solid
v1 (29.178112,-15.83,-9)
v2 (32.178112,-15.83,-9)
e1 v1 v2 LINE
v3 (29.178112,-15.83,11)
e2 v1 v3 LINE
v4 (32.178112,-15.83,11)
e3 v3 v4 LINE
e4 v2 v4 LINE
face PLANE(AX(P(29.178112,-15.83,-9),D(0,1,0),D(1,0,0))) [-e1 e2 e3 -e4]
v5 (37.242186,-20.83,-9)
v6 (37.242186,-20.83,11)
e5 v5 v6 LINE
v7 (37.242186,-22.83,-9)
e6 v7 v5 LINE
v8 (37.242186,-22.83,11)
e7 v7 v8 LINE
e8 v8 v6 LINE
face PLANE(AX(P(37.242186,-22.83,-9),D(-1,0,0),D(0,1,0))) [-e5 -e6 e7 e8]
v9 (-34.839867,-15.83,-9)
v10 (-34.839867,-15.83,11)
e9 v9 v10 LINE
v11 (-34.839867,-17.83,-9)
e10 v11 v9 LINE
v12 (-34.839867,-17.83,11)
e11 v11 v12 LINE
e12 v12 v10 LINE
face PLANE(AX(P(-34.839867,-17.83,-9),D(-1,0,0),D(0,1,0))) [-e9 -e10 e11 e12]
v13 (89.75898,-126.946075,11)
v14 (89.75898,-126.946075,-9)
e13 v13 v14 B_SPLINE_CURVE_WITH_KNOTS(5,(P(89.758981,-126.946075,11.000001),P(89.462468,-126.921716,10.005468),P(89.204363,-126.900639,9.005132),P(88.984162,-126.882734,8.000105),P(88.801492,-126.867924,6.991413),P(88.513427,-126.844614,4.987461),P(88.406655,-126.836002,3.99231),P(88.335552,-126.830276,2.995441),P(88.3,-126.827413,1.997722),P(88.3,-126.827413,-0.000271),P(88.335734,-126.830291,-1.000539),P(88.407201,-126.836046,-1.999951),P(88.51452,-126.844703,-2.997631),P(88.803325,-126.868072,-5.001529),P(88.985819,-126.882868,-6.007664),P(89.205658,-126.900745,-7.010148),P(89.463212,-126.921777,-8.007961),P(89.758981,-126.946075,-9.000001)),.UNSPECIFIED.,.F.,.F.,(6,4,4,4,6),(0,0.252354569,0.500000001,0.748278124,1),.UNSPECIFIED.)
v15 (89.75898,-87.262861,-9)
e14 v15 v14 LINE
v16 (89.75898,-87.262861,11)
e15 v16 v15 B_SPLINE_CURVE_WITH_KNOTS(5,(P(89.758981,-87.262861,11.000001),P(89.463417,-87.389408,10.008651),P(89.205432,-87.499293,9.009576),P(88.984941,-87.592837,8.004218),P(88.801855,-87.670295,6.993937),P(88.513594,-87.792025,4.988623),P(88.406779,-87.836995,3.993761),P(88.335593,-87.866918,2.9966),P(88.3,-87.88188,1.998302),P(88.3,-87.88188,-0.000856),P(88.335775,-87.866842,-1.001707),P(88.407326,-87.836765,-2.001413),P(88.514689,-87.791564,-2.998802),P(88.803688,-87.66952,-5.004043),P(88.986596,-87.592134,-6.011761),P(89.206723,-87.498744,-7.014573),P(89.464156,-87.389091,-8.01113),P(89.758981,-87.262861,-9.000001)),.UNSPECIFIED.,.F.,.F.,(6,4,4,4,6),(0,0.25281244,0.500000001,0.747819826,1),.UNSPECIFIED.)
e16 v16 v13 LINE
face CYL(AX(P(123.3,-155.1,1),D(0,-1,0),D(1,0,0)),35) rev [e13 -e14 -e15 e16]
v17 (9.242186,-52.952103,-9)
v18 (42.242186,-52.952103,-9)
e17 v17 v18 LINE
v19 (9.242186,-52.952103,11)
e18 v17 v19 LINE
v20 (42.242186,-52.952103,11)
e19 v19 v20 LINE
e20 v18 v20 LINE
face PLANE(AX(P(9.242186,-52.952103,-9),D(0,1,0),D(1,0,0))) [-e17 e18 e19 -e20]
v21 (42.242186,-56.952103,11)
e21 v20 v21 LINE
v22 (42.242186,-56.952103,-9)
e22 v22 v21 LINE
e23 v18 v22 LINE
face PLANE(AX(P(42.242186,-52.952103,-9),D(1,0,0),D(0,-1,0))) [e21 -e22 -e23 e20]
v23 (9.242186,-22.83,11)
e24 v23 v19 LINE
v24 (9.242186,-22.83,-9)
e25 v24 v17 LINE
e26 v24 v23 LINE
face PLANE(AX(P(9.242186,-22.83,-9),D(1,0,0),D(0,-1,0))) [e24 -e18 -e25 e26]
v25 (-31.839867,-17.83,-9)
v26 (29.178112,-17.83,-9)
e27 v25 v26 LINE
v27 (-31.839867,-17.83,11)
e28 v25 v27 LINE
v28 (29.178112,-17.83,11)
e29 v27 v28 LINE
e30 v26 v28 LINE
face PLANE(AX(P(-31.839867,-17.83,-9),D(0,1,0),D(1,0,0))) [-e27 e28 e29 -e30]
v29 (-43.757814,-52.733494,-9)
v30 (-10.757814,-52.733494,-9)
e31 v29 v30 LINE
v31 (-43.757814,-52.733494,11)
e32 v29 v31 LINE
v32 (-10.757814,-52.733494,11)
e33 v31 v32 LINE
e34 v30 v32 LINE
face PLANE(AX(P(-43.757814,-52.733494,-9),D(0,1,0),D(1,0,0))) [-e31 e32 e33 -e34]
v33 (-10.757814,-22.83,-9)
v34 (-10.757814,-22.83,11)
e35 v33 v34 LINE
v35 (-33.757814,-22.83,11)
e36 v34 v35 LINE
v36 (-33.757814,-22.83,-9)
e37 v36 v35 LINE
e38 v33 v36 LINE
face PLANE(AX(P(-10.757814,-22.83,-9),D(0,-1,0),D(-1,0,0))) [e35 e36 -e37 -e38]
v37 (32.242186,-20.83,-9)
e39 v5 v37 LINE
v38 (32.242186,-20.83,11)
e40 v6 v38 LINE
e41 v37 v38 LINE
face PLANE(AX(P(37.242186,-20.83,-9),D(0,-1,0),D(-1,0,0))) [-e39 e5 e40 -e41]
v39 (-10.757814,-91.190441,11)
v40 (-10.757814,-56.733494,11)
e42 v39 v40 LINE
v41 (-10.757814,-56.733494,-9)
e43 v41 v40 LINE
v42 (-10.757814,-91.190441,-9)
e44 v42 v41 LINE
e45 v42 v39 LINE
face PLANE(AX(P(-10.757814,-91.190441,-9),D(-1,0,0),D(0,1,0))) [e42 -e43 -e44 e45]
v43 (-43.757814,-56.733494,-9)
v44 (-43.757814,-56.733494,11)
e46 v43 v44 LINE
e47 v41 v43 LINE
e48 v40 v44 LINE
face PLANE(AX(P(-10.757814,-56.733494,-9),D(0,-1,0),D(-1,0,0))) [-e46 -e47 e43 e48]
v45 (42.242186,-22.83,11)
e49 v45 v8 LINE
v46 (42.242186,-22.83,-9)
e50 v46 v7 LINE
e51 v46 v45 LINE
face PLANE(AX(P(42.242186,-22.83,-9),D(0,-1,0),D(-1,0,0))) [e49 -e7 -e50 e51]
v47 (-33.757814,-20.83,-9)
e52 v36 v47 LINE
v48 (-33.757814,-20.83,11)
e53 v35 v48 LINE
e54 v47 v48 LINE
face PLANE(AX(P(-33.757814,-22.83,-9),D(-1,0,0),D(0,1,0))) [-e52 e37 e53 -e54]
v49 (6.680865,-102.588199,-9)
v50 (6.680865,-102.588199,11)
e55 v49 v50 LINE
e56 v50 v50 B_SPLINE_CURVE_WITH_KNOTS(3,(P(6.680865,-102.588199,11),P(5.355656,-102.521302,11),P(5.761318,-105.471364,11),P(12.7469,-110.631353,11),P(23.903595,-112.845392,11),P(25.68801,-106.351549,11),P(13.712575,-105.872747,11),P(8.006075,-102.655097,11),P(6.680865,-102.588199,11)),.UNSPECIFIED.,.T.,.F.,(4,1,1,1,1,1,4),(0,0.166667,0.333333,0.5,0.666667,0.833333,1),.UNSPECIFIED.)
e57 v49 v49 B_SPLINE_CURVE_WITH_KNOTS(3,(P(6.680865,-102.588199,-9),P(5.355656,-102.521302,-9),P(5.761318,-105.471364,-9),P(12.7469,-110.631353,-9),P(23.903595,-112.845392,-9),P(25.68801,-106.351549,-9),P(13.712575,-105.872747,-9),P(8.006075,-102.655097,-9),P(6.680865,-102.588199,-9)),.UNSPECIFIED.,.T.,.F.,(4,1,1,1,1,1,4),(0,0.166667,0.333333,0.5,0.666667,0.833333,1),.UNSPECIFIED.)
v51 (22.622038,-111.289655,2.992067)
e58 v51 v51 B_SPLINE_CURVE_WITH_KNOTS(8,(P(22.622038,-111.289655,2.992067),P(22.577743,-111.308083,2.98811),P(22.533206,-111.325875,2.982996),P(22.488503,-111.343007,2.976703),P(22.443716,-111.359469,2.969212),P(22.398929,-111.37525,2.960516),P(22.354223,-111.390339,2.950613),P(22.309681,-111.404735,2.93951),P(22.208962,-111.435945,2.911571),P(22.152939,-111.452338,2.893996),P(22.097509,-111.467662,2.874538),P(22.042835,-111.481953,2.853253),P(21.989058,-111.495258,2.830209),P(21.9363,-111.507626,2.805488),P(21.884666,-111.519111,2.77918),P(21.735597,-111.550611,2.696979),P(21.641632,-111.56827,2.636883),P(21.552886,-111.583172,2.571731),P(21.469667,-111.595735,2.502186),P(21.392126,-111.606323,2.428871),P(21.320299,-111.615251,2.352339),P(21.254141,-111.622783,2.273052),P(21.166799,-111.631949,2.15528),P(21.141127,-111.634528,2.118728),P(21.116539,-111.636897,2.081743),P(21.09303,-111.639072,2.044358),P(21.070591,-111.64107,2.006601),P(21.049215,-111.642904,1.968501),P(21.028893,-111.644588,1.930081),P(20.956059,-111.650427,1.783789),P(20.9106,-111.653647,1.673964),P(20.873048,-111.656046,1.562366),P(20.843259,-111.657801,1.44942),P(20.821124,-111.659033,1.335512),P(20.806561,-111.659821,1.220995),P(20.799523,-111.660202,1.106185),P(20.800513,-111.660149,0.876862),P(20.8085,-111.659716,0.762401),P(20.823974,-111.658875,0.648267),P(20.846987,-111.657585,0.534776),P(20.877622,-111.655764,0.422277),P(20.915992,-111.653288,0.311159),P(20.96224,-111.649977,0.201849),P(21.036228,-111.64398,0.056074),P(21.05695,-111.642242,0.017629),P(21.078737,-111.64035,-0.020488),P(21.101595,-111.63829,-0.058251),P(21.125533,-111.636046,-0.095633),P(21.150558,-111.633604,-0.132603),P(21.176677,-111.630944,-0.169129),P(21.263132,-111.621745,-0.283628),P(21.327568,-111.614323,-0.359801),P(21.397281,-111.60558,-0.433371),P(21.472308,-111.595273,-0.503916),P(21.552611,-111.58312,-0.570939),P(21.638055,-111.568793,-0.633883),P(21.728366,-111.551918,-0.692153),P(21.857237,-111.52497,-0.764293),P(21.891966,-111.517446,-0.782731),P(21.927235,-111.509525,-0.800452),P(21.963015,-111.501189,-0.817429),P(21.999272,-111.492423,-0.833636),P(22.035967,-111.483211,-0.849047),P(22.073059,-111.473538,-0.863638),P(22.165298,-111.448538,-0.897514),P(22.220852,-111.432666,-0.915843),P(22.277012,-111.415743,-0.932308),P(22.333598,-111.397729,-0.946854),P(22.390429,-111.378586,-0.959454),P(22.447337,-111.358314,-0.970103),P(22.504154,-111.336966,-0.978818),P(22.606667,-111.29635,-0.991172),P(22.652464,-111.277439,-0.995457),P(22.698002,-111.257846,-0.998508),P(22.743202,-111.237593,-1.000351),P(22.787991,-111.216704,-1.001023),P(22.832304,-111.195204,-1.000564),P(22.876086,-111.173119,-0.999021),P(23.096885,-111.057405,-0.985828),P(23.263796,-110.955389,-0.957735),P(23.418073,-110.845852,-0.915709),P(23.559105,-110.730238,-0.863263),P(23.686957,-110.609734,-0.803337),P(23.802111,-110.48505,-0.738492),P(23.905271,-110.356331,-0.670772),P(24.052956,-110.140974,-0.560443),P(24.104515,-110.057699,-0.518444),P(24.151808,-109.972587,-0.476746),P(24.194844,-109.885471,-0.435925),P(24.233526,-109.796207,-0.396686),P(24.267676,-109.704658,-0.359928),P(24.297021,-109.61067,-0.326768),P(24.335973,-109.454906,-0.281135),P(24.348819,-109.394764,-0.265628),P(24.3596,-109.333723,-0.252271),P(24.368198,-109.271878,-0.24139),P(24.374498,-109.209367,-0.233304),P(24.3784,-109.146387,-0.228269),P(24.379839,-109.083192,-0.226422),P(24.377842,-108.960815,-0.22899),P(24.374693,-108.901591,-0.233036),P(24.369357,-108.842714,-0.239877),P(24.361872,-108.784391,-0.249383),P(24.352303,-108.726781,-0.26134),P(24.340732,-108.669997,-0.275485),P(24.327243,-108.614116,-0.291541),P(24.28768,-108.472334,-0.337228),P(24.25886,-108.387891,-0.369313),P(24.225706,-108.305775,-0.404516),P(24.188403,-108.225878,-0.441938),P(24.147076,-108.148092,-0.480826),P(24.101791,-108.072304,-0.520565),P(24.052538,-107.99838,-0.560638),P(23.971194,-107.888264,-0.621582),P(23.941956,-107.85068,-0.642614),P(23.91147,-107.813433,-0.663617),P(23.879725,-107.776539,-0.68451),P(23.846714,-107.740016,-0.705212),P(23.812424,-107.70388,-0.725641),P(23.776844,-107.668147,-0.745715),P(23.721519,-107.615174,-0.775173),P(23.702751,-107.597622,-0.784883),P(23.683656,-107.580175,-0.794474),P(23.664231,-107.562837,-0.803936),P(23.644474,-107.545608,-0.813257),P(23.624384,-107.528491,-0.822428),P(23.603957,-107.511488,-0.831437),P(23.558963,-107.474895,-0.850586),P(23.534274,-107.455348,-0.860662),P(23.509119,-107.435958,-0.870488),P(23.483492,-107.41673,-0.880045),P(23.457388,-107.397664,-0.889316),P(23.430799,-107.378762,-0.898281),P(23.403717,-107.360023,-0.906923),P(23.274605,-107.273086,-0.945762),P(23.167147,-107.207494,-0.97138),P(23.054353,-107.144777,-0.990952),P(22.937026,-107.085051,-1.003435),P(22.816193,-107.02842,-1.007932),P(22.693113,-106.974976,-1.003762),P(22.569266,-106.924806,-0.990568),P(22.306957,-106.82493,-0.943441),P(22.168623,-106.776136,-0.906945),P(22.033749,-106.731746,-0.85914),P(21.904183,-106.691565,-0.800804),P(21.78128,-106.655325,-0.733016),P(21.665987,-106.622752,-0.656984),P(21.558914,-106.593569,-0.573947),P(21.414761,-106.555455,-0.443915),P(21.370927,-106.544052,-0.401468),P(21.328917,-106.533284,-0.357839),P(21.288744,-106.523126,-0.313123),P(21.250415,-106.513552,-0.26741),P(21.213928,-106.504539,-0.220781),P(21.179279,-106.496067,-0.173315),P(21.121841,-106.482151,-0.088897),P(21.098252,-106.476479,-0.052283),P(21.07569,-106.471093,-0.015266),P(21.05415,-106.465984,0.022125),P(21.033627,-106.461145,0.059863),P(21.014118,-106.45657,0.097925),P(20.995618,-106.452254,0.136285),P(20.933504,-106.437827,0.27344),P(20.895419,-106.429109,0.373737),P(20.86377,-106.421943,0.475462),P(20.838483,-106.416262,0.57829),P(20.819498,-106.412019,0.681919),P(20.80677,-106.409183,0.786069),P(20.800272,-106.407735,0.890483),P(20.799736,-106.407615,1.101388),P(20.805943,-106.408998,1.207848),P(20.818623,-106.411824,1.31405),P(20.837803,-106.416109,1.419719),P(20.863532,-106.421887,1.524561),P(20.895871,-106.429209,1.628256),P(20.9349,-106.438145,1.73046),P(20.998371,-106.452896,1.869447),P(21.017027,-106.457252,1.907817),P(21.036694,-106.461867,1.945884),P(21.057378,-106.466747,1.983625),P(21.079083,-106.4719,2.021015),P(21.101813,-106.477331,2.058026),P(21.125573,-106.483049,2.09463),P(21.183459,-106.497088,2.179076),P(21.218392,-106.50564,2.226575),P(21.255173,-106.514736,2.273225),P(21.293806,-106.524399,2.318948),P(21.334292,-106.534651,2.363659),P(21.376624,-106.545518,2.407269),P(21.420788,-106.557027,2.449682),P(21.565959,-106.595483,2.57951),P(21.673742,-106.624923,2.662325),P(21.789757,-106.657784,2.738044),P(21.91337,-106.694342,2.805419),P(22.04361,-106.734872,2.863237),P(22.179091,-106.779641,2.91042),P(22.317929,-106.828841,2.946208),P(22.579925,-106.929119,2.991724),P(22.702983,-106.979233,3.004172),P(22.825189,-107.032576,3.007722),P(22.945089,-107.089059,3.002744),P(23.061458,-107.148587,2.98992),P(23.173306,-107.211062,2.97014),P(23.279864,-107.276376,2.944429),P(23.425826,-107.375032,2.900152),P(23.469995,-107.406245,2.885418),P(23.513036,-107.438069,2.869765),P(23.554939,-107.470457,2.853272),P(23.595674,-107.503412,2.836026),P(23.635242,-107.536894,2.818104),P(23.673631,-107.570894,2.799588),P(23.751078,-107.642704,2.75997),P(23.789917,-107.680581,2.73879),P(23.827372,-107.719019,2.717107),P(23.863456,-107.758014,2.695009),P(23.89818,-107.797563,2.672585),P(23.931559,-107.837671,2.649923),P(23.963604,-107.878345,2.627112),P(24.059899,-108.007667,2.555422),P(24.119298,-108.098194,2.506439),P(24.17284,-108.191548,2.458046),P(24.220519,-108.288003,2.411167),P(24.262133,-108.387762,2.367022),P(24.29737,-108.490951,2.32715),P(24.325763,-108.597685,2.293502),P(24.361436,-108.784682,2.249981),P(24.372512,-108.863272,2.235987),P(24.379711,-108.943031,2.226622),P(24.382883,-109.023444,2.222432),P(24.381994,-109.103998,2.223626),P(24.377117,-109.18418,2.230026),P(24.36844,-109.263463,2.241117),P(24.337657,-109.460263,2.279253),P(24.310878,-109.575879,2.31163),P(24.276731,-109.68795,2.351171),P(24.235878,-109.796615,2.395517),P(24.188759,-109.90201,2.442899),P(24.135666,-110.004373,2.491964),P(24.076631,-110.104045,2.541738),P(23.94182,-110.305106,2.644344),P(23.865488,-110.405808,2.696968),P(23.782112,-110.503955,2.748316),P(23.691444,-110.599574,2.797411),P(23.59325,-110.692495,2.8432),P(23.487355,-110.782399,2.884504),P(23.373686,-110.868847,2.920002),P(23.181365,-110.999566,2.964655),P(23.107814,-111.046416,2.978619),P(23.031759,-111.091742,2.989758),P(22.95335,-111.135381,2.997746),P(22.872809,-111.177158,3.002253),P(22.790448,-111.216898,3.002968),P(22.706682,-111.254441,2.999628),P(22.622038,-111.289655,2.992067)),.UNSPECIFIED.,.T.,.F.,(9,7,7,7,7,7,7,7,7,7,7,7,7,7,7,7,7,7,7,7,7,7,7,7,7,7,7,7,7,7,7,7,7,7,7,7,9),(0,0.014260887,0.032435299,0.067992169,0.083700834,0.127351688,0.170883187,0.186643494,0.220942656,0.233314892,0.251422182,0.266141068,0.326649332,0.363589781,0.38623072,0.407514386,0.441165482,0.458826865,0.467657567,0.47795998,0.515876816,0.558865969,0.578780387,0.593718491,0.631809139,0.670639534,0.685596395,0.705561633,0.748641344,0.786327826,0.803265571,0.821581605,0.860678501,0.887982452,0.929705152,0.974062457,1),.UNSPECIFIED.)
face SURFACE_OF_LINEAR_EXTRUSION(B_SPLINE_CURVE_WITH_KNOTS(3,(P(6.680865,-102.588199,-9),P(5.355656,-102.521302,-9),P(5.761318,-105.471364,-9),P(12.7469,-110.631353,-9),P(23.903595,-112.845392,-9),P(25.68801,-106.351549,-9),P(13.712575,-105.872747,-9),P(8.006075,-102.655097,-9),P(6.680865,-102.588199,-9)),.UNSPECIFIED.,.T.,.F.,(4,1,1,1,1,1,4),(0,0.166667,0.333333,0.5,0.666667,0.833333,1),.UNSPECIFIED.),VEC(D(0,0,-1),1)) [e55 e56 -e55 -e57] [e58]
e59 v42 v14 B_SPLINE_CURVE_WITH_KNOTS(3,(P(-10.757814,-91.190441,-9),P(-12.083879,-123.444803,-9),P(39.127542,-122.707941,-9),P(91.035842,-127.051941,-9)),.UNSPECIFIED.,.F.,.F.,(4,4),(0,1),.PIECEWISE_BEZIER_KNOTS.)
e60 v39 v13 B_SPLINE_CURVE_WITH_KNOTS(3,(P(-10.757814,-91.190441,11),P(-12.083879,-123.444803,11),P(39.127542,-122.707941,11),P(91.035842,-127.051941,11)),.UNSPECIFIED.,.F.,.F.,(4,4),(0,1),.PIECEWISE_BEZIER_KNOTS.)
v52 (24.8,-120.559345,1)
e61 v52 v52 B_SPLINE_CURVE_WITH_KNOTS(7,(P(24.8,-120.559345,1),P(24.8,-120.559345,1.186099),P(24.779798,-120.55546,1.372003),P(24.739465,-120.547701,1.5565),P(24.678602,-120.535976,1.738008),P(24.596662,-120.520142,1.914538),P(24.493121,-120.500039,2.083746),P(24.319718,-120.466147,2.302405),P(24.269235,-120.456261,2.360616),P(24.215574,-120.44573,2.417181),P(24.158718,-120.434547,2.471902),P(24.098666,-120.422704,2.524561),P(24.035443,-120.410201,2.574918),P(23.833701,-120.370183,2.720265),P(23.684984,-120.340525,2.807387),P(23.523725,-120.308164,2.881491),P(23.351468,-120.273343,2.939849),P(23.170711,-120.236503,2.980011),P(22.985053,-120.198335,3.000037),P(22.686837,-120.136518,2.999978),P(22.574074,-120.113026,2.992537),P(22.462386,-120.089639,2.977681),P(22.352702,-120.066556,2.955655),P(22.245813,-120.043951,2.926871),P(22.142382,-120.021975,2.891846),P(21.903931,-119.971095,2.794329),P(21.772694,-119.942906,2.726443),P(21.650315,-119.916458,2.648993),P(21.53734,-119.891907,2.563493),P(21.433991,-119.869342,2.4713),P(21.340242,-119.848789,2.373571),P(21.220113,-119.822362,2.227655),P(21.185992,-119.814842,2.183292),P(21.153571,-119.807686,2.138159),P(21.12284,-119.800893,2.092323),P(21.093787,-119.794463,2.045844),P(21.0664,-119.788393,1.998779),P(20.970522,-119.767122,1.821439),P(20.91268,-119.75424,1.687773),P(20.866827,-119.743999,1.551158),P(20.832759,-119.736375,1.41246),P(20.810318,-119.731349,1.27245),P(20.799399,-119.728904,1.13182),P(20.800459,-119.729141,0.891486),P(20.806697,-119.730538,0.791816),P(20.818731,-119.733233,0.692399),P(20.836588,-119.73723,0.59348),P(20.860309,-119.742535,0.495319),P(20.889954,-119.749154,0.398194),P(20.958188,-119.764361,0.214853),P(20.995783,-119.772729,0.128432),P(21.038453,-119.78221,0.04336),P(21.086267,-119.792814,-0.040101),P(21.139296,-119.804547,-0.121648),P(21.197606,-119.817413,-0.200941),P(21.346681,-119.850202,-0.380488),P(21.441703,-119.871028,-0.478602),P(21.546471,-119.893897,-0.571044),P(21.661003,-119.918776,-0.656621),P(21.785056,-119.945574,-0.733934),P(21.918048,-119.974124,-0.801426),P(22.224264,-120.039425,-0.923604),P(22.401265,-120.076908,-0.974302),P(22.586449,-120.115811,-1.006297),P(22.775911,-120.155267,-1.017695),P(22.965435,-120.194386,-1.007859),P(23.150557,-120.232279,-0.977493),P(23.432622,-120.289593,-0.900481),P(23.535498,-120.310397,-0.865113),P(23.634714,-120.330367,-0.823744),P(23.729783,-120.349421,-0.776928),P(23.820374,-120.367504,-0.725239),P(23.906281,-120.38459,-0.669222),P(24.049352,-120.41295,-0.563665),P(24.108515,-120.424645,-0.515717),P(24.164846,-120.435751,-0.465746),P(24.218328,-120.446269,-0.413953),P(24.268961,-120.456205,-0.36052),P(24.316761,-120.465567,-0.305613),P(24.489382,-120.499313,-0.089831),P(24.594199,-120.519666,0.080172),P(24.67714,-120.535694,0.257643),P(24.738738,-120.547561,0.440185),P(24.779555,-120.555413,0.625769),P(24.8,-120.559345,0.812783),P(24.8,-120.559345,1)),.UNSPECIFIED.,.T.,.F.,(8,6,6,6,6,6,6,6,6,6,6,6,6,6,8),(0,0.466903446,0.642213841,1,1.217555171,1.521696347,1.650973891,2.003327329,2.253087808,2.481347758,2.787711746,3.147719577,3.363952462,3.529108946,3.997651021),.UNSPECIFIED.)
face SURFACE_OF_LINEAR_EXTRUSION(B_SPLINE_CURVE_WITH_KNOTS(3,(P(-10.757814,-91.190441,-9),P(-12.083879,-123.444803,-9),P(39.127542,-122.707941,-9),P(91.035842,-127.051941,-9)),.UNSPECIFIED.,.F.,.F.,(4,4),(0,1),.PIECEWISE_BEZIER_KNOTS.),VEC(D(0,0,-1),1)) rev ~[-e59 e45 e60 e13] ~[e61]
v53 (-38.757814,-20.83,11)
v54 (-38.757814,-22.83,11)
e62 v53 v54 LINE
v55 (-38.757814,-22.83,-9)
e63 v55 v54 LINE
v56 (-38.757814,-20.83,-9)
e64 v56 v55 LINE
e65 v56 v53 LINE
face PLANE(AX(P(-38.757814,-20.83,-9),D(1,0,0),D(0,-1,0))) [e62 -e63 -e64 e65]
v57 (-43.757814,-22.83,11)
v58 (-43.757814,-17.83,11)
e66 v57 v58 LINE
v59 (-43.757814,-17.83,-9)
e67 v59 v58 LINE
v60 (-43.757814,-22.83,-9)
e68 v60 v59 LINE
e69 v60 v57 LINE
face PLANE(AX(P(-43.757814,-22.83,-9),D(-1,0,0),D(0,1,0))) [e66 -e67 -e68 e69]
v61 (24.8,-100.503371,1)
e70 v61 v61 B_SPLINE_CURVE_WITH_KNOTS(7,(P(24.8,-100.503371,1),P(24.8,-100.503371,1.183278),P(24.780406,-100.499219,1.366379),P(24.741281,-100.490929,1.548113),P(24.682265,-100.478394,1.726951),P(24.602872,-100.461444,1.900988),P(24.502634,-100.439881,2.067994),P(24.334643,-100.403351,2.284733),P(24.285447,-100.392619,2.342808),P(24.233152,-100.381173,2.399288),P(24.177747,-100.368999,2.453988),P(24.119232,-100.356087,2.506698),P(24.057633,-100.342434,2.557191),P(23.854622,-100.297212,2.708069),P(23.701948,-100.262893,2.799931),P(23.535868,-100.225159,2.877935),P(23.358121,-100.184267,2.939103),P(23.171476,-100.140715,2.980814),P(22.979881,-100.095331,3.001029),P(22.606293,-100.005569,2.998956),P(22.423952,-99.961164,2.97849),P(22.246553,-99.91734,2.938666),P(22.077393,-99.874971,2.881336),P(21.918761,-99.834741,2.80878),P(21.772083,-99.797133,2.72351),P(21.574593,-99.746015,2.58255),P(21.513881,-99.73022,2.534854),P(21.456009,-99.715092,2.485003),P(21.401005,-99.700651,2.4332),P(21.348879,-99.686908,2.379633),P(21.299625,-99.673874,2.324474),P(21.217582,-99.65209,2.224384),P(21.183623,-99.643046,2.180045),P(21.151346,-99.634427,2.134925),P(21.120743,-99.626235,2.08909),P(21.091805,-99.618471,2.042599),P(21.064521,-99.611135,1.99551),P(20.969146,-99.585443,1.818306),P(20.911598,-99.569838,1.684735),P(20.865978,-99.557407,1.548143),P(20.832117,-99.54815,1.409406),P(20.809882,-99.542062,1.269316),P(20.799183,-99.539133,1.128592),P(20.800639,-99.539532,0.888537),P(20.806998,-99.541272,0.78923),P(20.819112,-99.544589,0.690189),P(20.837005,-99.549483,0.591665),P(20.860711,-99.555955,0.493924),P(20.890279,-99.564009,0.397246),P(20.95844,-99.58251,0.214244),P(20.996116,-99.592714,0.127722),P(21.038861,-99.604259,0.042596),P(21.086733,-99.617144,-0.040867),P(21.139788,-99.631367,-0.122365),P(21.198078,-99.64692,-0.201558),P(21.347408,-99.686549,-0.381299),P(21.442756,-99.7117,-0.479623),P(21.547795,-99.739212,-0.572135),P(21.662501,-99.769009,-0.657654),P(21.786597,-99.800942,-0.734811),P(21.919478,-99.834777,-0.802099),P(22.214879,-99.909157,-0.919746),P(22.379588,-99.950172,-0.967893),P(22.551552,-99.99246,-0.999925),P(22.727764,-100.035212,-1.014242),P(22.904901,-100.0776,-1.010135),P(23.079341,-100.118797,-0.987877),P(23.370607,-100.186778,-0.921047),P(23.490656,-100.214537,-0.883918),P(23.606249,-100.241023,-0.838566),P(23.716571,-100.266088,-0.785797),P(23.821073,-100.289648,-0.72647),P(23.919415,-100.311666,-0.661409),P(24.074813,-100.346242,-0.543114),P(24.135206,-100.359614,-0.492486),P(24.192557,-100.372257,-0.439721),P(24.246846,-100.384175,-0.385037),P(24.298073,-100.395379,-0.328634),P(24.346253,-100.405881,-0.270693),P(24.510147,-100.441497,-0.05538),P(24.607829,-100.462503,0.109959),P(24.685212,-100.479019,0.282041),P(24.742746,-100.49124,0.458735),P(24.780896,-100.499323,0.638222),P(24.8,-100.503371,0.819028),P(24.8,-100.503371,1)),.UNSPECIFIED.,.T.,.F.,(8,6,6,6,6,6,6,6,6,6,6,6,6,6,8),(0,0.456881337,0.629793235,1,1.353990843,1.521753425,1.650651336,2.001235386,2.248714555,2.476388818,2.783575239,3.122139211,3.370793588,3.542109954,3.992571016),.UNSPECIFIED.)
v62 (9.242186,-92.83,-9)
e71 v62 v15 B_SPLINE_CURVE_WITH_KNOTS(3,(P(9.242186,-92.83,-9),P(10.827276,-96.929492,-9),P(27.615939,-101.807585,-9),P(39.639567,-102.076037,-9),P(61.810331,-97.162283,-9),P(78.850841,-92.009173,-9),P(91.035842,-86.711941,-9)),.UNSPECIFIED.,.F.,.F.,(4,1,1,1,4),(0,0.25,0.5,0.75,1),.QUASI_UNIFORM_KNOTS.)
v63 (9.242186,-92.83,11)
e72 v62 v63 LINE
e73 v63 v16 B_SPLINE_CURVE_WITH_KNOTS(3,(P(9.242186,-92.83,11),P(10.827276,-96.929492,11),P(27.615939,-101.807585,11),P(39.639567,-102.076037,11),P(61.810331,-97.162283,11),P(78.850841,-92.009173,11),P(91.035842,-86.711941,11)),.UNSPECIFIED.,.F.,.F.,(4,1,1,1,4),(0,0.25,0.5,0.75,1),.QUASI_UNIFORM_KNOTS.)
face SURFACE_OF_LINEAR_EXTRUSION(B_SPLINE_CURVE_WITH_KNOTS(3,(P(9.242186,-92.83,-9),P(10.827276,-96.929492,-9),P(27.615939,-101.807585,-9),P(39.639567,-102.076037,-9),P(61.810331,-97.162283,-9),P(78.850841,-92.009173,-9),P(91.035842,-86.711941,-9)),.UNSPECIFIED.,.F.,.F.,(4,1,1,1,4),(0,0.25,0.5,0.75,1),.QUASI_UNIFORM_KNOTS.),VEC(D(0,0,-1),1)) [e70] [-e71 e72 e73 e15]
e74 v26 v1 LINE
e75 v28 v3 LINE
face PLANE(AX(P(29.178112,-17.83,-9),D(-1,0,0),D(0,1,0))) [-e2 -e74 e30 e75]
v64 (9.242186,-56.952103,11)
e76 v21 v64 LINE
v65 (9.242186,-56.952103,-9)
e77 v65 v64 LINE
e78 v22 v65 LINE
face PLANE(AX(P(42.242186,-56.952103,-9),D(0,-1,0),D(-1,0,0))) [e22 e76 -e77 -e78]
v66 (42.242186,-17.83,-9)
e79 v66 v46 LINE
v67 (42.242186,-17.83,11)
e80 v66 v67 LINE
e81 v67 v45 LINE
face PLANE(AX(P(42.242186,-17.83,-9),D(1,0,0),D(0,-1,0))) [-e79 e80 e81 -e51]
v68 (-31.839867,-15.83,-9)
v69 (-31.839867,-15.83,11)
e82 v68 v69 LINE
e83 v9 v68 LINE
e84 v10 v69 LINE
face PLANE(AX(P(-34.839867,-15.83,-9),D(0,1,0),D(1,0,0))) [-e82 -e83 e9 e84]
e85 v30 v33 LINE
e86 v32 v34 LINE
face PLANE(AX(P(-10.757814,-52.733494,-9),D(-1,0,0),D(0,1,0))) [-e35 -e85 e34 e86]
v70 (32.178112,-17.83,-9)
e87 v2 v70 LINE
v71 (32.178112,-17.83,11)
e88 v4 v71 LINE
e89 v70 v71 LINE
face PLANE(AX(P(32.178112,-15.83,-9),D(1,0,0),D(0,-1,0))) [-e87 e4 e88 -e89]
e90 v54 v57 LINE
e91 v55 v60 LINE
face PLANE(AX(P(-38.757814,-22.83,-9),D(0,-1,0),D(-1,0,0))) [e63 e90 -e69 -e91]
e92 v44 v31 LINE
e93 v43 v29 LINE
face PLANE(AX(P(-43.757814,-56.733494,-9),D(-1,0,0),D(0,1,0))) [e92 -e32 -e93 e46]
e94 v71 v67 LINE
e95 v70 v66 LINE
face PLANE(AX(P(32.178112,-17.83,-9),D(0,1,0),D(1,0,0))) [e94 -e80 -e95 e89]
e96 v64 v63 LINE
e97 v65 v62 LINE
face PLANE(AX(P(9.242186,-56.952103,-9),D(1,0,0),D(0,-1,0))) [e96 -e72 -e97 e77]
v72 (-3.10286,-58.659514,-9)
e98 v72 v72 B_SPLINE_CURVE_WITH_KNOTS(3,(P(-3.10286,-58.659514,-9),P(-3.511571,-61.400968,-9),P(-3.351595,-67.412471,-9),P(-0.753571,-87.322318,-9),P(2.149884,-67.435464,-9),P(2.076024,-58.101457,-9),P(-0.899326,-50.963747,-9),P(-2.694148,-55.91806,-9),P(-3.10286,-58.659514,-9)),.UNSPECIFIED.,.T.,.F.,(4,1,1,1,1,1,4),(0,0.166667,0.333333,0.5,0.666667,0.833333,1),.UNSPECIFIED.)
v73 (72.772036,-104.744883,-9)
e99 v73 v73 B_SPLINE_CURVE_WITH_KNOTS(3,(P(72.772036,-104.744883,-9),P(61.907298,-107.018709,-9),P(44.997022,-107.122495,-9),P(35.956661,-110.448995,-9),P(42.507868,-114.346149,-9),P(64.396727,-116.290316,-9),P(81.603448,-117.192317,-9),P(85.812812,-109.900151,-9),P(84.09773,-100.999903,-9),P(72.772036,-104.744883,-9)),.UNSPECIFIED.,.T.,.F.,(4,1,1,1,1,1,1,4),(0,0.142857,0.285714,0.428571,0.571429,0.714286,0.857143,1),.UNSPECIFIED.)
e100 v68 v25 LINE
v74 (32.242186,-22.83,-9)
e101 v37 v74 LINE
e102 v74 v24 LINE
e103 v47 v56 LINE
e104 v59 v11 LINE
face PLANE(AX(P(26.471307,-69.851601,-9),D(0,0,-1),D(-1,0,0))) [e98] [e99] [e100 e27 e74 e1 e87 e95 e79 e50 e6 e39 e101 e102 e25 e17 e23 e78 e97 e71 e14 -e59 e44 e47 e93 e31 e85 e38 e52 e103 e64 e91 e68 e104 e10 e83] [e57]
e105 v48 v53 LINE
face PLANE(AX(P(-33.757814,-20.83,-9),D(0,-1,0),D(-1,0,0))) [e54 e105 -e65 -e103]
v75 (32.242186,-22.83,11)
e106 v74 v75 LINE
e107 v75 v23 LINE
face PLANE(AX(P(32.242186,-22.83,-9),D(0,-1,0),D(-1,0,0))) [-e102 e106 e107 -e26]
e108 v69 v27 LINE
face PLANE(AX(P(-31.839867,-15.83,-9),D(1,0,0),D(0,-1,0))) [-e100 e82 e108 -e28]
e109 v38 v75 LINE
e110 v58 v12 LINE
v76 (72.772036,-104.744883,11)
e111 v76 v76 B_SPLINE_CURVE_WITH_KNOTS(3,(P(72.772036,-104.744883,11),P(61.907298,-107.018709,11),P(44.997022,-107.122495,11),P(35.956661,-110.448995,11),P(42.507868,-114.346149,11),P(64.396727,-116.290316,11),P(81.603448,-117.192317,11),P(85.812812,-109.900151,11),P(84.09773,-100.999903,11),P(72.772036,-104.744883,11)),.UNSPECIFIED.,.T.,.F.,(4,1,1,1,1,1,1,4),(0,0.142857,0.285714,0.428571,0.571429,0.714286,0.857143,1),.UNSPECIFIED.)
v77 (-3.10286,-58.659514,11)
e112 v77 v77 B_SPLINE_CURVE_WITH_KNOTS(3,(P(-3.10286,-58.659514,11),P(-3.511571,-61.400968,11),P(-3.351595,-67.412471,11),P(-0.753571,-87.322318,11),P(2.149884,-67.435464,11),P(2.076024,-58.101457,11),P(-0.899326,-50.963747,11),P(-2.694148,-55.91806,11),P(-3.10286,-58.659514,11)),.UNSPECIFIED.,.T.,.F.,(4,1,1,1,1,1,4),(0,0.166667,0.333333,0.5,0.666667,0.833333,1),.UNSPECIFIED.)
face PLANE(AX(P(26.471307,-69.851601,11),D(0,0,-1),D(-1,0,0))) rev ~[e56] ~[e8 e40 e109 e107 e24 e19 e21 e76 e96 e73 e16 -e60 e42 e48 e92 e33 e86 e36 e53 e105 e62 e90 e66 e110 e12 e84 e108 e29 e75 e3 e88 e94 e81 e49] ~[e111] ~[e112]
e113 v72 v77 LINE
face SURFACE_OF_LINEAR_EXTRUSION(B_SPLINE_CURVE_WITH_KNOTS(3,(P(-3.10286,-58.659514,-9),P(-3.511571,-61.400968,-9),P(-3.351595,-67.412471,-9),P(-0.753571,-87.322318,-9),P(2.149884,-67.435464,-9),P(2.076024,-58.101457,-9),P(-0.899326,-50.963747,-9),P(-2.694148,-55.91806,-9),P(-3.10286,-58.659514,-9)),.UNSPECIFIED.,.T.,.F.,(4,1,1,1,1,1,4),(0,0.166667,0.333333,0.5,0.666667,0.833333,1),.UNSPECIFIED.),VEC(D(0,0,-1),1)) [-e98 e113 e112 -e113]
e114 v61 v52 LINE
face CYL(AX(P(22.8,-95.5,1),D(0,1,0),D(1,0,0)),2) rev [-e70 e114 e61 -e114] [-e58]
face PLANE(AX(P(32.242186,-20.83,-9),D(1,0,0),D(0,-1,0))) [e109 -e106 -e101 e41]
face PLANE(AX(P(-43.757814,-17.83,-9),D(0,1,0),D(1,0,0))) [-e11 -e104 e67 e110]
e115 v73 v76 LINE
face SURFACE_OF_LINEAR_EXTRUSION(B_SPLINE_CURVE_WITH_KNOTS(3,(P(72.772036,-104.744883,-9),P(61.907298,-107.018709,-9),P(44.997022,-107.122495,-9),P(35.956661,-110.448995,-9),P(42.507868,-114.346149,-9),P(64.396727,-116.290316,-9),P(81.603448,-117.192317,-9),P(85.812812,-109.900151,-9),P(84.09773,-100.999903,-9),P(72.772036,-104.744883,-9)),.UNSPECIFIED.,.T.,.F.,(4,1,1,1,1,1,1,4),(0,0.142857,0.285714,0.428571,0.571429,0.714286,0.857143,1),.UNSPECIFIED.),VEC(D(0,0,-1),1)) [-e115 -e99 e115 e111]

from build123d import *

# Parameters (mm, degrees)
CYLINDER003_R     = 2
CYLINDER003_DEPTH = 34
CYLINDER001_R     = 35
CYLINDER001_DEPTH = 100
EXTRUDE_DEPTH     = 20


with BuildPart() as cylinder:
    # Cylinder003 → Cylinder003 (new body)
    with BuildSketch(Plane(origin=(22.8, -95.5, -10), x_dir=(1, 0, 0), z_dir=(0, -1, 0))):
        Circle(CYLINDER003_R)
    extrude(amount=CYLINDER003_DEPTH)


with BuildPart() as drain_pipe001:
    # Cylinder001 → Cylinder001 (new body)
    with BuildSketch(Plane(origin=(123.3, -155.1, -10), x_dir=(1, 0, 0), z_dir=(0, 1, 0))):
        Circle(CYLINDER001_R)
    extrude(amount=CYLINDER001_DEPTH)


with BuildPart() as bracket001:
    # Sketch → Extrude (new body)
    with BuildSketch(Plane.XY):
        with BuildLine():
            add(Edge.make_bspline(
                [(9.242186, -69.33), (10.827276, -73.429492), (27.615939, -78.307585), (39.639567, -78.576037), (61.810331, -73.662283), (78.850841, -68.509173), (91.035842, -63.211941)],
                knots=[0, 0, 0, 0, 0.25, 0.5, 0.75, 1, 1, 1, 1], degree=3))
            Line((91.035842, -63.211941), (91.035842, -59.315908))
            Line((91.035842, -59.315908), (93.754241, -59.315908))
            Line((93.754241, -59.315908), (93.754241, -54.315908))
            Line((93.754241, -54.315908), (91.035842, -54.315908))
            Line((91.035842, -54.315908), (91.035842, -48.629474))
            Line((91.035842, -48.629474), (101.035842, -48.629474))
            Line((101.035842, -48.629474), (101.035842, -118.629474))
            Line((101.035842, -118.629474), (91.035842, -118.629474))
            Line((91.035842, -118.629474), (91.035842, -111.113045))
            Line((91.035842, -111.113045), (93.035842, -111.113045))
            Line((93.035842, -111.113045), (93.035842, -106.113045))
            Line((93.035842, -106.113045), (91.035842, -106.113045))
            Line((91.035842, -106.113045), (91.035842, -103.551941))
            add(Edge.make_bspline(
                [(-10.757814, -67.690441), (-12.083879, -99.944803), (39.127542, -99.207941), (91.035842, -103.551941)],
                knots=[0, 0, 0, 0, 1, 1, 1, 1], degree=3))
            Line((-10.757814, -67.690441), (-10.757814, -33.233494))
            Line((-10.757814, -33.233494), (-43.757814, -33.233494))
            Line((-43.757814, -33.233494), (-43.757814, -29.233494))
            Line((-43.757814, -29.233494), (-10.757814, -29.233494))
            Line((-10.757814, -29.233494), (-10.757814, 0.67))
            Line((-10.757814, 0.67), (-33.757814, 0.67))
            Line((-33.757814, 0.67), (-33.757814, 2.67))
            Line((-33.757814, 2.67), (-38.757814, 2.67))
            Line((-38.757814, 2.67), (-38.757814, 0.67))
            Line((-38.757814, 0.67), (-43.757814, 0.67))
            Line((-43.757814, 0.67), (-43.757814, 5.67))
            Line((-43.757814, 5.67), (-34.839867, 5.67))
            Line((-34.839867, 5.67), (-34.839867, 7.67))
            Line((-34.839867, 7.67), (-31.839867, 7.67))
            Line((-31.839867, 7.67), (-31.839867, 5.67))
            Line((-31.839867, 5.67), (29.178112, 5.67))
            Line((29.178112, 5.67), (29.178112, 7.67))
            Line((29.178112, 7.67), (32.178112, 7.67))
            Line((32.178112, 7.67), (32.178112, 5.67))
            Line((32.178112, 5.67), (42.242186, 5.67))
            Line((42.242186, 5.67), (42.242186, 0.67))
            Line((42.242186, 0.67), (37.242186, 0.67))
            Line((37.242186, 0.67), (37.242186, 2.67))
            Line((37.242186, 2.67), (32.242186, 2.67))
            Line((32.242186, 2.67), (32.242186, 0.67))
            Line((32.242186, 0.67), (9.242186, 0.67))
            Line((9.242186, 0.67), (9.242186, -29.452103))
            Line((9.242186, -29.452103), (42.242186, -29.452103))
            Line((42.242186, -29.452103), (42.242186, -33.452103))
            Line((42.242186, -33.452103), (9.242186, -33.452103))
            Line((9.242186, -33.452103), (9.242186, -68.33))
            Line((9.242186, -68.33), (9.242186, -69.33))
        make_face()
        with BuildLine():
            add(Edge.make_bspline(
                [(72.772036, -81.244883), (61.907298, -83.518709), (44.997022, -83.622495), (35.956661, -86.948995), (42.507868, -90.846149), (64.396727, -92.790316), (81.603448, -93.692317), (85.812812, -86.400151), (84.09773, -77.499903), (72.772036, -81.244883)],
                knots=[0, 0, 0, 0, 0.142857, 0.285714, 0.428571, 0.571429, 0.714286, 0.857143, 1, 1, 1, 1], degree=3))
        make_face(mode=Mode.SUBTRACT)
        with BuildLine():
            add(Edge.make_bspline(
                [(6.680865, -79.088199), (5.355656, -79.021302), (5.761318, -81.971364), (12.7469, -87.131353), (23.903595, -89.345392), (25.68801, -82.851549), (13.712575, -82.372747), (8.006075, -79.155097), (6.680865, -79.088199)],
                knots=[0, 0, 0, 0, 0.166667, 0.333333, 0.5, 0.666667, 0.833333, 1, 1, 1, 1], degree=3))
        make_face(mode=Mode.SUBTRACT)
        with BuildLine():
            add(Edge.make_bspline(
                [(-3.10286, -35.159514), (-3.511571, -37.900968), (-3.351595, -43.912471), (-0.753571, -63.822318), (2.149884, -43.935464), (2.076024, -34.601457), (-0.899326, -27.463747), (-2.694148, -32.41806), (-3.10286, -35.159514)],
                knots=[0, 0, 0, 0, 0.166667, 0.333333, 0.5, 0.666667, 0.833333, 1, 1, 1, 1], degree=3))
        make_face(mode=Mode.SUBTRACT)
    extrude(amount=EXTRUDE_DEPTH)


with BuildPart() as bracket001_1:
    # Extrude placement: moved
    add(bracket001.part.moved(Location((0, -23.5, -20))))

    # Cut: cut drain pipe001
    add(drain_pipe001.part, mode=Mode.SUBTRACT)

    # Cut001: cut Cylinder
    add(cylinder.part, mode=Mode.SUBTRACT)


with BuildPart() as bracket001_2:
    # Cut001 placement: moved
    add(bracket001_1.part.moved(Location((0, 0, 11))))


solid = bracket001_2.part
